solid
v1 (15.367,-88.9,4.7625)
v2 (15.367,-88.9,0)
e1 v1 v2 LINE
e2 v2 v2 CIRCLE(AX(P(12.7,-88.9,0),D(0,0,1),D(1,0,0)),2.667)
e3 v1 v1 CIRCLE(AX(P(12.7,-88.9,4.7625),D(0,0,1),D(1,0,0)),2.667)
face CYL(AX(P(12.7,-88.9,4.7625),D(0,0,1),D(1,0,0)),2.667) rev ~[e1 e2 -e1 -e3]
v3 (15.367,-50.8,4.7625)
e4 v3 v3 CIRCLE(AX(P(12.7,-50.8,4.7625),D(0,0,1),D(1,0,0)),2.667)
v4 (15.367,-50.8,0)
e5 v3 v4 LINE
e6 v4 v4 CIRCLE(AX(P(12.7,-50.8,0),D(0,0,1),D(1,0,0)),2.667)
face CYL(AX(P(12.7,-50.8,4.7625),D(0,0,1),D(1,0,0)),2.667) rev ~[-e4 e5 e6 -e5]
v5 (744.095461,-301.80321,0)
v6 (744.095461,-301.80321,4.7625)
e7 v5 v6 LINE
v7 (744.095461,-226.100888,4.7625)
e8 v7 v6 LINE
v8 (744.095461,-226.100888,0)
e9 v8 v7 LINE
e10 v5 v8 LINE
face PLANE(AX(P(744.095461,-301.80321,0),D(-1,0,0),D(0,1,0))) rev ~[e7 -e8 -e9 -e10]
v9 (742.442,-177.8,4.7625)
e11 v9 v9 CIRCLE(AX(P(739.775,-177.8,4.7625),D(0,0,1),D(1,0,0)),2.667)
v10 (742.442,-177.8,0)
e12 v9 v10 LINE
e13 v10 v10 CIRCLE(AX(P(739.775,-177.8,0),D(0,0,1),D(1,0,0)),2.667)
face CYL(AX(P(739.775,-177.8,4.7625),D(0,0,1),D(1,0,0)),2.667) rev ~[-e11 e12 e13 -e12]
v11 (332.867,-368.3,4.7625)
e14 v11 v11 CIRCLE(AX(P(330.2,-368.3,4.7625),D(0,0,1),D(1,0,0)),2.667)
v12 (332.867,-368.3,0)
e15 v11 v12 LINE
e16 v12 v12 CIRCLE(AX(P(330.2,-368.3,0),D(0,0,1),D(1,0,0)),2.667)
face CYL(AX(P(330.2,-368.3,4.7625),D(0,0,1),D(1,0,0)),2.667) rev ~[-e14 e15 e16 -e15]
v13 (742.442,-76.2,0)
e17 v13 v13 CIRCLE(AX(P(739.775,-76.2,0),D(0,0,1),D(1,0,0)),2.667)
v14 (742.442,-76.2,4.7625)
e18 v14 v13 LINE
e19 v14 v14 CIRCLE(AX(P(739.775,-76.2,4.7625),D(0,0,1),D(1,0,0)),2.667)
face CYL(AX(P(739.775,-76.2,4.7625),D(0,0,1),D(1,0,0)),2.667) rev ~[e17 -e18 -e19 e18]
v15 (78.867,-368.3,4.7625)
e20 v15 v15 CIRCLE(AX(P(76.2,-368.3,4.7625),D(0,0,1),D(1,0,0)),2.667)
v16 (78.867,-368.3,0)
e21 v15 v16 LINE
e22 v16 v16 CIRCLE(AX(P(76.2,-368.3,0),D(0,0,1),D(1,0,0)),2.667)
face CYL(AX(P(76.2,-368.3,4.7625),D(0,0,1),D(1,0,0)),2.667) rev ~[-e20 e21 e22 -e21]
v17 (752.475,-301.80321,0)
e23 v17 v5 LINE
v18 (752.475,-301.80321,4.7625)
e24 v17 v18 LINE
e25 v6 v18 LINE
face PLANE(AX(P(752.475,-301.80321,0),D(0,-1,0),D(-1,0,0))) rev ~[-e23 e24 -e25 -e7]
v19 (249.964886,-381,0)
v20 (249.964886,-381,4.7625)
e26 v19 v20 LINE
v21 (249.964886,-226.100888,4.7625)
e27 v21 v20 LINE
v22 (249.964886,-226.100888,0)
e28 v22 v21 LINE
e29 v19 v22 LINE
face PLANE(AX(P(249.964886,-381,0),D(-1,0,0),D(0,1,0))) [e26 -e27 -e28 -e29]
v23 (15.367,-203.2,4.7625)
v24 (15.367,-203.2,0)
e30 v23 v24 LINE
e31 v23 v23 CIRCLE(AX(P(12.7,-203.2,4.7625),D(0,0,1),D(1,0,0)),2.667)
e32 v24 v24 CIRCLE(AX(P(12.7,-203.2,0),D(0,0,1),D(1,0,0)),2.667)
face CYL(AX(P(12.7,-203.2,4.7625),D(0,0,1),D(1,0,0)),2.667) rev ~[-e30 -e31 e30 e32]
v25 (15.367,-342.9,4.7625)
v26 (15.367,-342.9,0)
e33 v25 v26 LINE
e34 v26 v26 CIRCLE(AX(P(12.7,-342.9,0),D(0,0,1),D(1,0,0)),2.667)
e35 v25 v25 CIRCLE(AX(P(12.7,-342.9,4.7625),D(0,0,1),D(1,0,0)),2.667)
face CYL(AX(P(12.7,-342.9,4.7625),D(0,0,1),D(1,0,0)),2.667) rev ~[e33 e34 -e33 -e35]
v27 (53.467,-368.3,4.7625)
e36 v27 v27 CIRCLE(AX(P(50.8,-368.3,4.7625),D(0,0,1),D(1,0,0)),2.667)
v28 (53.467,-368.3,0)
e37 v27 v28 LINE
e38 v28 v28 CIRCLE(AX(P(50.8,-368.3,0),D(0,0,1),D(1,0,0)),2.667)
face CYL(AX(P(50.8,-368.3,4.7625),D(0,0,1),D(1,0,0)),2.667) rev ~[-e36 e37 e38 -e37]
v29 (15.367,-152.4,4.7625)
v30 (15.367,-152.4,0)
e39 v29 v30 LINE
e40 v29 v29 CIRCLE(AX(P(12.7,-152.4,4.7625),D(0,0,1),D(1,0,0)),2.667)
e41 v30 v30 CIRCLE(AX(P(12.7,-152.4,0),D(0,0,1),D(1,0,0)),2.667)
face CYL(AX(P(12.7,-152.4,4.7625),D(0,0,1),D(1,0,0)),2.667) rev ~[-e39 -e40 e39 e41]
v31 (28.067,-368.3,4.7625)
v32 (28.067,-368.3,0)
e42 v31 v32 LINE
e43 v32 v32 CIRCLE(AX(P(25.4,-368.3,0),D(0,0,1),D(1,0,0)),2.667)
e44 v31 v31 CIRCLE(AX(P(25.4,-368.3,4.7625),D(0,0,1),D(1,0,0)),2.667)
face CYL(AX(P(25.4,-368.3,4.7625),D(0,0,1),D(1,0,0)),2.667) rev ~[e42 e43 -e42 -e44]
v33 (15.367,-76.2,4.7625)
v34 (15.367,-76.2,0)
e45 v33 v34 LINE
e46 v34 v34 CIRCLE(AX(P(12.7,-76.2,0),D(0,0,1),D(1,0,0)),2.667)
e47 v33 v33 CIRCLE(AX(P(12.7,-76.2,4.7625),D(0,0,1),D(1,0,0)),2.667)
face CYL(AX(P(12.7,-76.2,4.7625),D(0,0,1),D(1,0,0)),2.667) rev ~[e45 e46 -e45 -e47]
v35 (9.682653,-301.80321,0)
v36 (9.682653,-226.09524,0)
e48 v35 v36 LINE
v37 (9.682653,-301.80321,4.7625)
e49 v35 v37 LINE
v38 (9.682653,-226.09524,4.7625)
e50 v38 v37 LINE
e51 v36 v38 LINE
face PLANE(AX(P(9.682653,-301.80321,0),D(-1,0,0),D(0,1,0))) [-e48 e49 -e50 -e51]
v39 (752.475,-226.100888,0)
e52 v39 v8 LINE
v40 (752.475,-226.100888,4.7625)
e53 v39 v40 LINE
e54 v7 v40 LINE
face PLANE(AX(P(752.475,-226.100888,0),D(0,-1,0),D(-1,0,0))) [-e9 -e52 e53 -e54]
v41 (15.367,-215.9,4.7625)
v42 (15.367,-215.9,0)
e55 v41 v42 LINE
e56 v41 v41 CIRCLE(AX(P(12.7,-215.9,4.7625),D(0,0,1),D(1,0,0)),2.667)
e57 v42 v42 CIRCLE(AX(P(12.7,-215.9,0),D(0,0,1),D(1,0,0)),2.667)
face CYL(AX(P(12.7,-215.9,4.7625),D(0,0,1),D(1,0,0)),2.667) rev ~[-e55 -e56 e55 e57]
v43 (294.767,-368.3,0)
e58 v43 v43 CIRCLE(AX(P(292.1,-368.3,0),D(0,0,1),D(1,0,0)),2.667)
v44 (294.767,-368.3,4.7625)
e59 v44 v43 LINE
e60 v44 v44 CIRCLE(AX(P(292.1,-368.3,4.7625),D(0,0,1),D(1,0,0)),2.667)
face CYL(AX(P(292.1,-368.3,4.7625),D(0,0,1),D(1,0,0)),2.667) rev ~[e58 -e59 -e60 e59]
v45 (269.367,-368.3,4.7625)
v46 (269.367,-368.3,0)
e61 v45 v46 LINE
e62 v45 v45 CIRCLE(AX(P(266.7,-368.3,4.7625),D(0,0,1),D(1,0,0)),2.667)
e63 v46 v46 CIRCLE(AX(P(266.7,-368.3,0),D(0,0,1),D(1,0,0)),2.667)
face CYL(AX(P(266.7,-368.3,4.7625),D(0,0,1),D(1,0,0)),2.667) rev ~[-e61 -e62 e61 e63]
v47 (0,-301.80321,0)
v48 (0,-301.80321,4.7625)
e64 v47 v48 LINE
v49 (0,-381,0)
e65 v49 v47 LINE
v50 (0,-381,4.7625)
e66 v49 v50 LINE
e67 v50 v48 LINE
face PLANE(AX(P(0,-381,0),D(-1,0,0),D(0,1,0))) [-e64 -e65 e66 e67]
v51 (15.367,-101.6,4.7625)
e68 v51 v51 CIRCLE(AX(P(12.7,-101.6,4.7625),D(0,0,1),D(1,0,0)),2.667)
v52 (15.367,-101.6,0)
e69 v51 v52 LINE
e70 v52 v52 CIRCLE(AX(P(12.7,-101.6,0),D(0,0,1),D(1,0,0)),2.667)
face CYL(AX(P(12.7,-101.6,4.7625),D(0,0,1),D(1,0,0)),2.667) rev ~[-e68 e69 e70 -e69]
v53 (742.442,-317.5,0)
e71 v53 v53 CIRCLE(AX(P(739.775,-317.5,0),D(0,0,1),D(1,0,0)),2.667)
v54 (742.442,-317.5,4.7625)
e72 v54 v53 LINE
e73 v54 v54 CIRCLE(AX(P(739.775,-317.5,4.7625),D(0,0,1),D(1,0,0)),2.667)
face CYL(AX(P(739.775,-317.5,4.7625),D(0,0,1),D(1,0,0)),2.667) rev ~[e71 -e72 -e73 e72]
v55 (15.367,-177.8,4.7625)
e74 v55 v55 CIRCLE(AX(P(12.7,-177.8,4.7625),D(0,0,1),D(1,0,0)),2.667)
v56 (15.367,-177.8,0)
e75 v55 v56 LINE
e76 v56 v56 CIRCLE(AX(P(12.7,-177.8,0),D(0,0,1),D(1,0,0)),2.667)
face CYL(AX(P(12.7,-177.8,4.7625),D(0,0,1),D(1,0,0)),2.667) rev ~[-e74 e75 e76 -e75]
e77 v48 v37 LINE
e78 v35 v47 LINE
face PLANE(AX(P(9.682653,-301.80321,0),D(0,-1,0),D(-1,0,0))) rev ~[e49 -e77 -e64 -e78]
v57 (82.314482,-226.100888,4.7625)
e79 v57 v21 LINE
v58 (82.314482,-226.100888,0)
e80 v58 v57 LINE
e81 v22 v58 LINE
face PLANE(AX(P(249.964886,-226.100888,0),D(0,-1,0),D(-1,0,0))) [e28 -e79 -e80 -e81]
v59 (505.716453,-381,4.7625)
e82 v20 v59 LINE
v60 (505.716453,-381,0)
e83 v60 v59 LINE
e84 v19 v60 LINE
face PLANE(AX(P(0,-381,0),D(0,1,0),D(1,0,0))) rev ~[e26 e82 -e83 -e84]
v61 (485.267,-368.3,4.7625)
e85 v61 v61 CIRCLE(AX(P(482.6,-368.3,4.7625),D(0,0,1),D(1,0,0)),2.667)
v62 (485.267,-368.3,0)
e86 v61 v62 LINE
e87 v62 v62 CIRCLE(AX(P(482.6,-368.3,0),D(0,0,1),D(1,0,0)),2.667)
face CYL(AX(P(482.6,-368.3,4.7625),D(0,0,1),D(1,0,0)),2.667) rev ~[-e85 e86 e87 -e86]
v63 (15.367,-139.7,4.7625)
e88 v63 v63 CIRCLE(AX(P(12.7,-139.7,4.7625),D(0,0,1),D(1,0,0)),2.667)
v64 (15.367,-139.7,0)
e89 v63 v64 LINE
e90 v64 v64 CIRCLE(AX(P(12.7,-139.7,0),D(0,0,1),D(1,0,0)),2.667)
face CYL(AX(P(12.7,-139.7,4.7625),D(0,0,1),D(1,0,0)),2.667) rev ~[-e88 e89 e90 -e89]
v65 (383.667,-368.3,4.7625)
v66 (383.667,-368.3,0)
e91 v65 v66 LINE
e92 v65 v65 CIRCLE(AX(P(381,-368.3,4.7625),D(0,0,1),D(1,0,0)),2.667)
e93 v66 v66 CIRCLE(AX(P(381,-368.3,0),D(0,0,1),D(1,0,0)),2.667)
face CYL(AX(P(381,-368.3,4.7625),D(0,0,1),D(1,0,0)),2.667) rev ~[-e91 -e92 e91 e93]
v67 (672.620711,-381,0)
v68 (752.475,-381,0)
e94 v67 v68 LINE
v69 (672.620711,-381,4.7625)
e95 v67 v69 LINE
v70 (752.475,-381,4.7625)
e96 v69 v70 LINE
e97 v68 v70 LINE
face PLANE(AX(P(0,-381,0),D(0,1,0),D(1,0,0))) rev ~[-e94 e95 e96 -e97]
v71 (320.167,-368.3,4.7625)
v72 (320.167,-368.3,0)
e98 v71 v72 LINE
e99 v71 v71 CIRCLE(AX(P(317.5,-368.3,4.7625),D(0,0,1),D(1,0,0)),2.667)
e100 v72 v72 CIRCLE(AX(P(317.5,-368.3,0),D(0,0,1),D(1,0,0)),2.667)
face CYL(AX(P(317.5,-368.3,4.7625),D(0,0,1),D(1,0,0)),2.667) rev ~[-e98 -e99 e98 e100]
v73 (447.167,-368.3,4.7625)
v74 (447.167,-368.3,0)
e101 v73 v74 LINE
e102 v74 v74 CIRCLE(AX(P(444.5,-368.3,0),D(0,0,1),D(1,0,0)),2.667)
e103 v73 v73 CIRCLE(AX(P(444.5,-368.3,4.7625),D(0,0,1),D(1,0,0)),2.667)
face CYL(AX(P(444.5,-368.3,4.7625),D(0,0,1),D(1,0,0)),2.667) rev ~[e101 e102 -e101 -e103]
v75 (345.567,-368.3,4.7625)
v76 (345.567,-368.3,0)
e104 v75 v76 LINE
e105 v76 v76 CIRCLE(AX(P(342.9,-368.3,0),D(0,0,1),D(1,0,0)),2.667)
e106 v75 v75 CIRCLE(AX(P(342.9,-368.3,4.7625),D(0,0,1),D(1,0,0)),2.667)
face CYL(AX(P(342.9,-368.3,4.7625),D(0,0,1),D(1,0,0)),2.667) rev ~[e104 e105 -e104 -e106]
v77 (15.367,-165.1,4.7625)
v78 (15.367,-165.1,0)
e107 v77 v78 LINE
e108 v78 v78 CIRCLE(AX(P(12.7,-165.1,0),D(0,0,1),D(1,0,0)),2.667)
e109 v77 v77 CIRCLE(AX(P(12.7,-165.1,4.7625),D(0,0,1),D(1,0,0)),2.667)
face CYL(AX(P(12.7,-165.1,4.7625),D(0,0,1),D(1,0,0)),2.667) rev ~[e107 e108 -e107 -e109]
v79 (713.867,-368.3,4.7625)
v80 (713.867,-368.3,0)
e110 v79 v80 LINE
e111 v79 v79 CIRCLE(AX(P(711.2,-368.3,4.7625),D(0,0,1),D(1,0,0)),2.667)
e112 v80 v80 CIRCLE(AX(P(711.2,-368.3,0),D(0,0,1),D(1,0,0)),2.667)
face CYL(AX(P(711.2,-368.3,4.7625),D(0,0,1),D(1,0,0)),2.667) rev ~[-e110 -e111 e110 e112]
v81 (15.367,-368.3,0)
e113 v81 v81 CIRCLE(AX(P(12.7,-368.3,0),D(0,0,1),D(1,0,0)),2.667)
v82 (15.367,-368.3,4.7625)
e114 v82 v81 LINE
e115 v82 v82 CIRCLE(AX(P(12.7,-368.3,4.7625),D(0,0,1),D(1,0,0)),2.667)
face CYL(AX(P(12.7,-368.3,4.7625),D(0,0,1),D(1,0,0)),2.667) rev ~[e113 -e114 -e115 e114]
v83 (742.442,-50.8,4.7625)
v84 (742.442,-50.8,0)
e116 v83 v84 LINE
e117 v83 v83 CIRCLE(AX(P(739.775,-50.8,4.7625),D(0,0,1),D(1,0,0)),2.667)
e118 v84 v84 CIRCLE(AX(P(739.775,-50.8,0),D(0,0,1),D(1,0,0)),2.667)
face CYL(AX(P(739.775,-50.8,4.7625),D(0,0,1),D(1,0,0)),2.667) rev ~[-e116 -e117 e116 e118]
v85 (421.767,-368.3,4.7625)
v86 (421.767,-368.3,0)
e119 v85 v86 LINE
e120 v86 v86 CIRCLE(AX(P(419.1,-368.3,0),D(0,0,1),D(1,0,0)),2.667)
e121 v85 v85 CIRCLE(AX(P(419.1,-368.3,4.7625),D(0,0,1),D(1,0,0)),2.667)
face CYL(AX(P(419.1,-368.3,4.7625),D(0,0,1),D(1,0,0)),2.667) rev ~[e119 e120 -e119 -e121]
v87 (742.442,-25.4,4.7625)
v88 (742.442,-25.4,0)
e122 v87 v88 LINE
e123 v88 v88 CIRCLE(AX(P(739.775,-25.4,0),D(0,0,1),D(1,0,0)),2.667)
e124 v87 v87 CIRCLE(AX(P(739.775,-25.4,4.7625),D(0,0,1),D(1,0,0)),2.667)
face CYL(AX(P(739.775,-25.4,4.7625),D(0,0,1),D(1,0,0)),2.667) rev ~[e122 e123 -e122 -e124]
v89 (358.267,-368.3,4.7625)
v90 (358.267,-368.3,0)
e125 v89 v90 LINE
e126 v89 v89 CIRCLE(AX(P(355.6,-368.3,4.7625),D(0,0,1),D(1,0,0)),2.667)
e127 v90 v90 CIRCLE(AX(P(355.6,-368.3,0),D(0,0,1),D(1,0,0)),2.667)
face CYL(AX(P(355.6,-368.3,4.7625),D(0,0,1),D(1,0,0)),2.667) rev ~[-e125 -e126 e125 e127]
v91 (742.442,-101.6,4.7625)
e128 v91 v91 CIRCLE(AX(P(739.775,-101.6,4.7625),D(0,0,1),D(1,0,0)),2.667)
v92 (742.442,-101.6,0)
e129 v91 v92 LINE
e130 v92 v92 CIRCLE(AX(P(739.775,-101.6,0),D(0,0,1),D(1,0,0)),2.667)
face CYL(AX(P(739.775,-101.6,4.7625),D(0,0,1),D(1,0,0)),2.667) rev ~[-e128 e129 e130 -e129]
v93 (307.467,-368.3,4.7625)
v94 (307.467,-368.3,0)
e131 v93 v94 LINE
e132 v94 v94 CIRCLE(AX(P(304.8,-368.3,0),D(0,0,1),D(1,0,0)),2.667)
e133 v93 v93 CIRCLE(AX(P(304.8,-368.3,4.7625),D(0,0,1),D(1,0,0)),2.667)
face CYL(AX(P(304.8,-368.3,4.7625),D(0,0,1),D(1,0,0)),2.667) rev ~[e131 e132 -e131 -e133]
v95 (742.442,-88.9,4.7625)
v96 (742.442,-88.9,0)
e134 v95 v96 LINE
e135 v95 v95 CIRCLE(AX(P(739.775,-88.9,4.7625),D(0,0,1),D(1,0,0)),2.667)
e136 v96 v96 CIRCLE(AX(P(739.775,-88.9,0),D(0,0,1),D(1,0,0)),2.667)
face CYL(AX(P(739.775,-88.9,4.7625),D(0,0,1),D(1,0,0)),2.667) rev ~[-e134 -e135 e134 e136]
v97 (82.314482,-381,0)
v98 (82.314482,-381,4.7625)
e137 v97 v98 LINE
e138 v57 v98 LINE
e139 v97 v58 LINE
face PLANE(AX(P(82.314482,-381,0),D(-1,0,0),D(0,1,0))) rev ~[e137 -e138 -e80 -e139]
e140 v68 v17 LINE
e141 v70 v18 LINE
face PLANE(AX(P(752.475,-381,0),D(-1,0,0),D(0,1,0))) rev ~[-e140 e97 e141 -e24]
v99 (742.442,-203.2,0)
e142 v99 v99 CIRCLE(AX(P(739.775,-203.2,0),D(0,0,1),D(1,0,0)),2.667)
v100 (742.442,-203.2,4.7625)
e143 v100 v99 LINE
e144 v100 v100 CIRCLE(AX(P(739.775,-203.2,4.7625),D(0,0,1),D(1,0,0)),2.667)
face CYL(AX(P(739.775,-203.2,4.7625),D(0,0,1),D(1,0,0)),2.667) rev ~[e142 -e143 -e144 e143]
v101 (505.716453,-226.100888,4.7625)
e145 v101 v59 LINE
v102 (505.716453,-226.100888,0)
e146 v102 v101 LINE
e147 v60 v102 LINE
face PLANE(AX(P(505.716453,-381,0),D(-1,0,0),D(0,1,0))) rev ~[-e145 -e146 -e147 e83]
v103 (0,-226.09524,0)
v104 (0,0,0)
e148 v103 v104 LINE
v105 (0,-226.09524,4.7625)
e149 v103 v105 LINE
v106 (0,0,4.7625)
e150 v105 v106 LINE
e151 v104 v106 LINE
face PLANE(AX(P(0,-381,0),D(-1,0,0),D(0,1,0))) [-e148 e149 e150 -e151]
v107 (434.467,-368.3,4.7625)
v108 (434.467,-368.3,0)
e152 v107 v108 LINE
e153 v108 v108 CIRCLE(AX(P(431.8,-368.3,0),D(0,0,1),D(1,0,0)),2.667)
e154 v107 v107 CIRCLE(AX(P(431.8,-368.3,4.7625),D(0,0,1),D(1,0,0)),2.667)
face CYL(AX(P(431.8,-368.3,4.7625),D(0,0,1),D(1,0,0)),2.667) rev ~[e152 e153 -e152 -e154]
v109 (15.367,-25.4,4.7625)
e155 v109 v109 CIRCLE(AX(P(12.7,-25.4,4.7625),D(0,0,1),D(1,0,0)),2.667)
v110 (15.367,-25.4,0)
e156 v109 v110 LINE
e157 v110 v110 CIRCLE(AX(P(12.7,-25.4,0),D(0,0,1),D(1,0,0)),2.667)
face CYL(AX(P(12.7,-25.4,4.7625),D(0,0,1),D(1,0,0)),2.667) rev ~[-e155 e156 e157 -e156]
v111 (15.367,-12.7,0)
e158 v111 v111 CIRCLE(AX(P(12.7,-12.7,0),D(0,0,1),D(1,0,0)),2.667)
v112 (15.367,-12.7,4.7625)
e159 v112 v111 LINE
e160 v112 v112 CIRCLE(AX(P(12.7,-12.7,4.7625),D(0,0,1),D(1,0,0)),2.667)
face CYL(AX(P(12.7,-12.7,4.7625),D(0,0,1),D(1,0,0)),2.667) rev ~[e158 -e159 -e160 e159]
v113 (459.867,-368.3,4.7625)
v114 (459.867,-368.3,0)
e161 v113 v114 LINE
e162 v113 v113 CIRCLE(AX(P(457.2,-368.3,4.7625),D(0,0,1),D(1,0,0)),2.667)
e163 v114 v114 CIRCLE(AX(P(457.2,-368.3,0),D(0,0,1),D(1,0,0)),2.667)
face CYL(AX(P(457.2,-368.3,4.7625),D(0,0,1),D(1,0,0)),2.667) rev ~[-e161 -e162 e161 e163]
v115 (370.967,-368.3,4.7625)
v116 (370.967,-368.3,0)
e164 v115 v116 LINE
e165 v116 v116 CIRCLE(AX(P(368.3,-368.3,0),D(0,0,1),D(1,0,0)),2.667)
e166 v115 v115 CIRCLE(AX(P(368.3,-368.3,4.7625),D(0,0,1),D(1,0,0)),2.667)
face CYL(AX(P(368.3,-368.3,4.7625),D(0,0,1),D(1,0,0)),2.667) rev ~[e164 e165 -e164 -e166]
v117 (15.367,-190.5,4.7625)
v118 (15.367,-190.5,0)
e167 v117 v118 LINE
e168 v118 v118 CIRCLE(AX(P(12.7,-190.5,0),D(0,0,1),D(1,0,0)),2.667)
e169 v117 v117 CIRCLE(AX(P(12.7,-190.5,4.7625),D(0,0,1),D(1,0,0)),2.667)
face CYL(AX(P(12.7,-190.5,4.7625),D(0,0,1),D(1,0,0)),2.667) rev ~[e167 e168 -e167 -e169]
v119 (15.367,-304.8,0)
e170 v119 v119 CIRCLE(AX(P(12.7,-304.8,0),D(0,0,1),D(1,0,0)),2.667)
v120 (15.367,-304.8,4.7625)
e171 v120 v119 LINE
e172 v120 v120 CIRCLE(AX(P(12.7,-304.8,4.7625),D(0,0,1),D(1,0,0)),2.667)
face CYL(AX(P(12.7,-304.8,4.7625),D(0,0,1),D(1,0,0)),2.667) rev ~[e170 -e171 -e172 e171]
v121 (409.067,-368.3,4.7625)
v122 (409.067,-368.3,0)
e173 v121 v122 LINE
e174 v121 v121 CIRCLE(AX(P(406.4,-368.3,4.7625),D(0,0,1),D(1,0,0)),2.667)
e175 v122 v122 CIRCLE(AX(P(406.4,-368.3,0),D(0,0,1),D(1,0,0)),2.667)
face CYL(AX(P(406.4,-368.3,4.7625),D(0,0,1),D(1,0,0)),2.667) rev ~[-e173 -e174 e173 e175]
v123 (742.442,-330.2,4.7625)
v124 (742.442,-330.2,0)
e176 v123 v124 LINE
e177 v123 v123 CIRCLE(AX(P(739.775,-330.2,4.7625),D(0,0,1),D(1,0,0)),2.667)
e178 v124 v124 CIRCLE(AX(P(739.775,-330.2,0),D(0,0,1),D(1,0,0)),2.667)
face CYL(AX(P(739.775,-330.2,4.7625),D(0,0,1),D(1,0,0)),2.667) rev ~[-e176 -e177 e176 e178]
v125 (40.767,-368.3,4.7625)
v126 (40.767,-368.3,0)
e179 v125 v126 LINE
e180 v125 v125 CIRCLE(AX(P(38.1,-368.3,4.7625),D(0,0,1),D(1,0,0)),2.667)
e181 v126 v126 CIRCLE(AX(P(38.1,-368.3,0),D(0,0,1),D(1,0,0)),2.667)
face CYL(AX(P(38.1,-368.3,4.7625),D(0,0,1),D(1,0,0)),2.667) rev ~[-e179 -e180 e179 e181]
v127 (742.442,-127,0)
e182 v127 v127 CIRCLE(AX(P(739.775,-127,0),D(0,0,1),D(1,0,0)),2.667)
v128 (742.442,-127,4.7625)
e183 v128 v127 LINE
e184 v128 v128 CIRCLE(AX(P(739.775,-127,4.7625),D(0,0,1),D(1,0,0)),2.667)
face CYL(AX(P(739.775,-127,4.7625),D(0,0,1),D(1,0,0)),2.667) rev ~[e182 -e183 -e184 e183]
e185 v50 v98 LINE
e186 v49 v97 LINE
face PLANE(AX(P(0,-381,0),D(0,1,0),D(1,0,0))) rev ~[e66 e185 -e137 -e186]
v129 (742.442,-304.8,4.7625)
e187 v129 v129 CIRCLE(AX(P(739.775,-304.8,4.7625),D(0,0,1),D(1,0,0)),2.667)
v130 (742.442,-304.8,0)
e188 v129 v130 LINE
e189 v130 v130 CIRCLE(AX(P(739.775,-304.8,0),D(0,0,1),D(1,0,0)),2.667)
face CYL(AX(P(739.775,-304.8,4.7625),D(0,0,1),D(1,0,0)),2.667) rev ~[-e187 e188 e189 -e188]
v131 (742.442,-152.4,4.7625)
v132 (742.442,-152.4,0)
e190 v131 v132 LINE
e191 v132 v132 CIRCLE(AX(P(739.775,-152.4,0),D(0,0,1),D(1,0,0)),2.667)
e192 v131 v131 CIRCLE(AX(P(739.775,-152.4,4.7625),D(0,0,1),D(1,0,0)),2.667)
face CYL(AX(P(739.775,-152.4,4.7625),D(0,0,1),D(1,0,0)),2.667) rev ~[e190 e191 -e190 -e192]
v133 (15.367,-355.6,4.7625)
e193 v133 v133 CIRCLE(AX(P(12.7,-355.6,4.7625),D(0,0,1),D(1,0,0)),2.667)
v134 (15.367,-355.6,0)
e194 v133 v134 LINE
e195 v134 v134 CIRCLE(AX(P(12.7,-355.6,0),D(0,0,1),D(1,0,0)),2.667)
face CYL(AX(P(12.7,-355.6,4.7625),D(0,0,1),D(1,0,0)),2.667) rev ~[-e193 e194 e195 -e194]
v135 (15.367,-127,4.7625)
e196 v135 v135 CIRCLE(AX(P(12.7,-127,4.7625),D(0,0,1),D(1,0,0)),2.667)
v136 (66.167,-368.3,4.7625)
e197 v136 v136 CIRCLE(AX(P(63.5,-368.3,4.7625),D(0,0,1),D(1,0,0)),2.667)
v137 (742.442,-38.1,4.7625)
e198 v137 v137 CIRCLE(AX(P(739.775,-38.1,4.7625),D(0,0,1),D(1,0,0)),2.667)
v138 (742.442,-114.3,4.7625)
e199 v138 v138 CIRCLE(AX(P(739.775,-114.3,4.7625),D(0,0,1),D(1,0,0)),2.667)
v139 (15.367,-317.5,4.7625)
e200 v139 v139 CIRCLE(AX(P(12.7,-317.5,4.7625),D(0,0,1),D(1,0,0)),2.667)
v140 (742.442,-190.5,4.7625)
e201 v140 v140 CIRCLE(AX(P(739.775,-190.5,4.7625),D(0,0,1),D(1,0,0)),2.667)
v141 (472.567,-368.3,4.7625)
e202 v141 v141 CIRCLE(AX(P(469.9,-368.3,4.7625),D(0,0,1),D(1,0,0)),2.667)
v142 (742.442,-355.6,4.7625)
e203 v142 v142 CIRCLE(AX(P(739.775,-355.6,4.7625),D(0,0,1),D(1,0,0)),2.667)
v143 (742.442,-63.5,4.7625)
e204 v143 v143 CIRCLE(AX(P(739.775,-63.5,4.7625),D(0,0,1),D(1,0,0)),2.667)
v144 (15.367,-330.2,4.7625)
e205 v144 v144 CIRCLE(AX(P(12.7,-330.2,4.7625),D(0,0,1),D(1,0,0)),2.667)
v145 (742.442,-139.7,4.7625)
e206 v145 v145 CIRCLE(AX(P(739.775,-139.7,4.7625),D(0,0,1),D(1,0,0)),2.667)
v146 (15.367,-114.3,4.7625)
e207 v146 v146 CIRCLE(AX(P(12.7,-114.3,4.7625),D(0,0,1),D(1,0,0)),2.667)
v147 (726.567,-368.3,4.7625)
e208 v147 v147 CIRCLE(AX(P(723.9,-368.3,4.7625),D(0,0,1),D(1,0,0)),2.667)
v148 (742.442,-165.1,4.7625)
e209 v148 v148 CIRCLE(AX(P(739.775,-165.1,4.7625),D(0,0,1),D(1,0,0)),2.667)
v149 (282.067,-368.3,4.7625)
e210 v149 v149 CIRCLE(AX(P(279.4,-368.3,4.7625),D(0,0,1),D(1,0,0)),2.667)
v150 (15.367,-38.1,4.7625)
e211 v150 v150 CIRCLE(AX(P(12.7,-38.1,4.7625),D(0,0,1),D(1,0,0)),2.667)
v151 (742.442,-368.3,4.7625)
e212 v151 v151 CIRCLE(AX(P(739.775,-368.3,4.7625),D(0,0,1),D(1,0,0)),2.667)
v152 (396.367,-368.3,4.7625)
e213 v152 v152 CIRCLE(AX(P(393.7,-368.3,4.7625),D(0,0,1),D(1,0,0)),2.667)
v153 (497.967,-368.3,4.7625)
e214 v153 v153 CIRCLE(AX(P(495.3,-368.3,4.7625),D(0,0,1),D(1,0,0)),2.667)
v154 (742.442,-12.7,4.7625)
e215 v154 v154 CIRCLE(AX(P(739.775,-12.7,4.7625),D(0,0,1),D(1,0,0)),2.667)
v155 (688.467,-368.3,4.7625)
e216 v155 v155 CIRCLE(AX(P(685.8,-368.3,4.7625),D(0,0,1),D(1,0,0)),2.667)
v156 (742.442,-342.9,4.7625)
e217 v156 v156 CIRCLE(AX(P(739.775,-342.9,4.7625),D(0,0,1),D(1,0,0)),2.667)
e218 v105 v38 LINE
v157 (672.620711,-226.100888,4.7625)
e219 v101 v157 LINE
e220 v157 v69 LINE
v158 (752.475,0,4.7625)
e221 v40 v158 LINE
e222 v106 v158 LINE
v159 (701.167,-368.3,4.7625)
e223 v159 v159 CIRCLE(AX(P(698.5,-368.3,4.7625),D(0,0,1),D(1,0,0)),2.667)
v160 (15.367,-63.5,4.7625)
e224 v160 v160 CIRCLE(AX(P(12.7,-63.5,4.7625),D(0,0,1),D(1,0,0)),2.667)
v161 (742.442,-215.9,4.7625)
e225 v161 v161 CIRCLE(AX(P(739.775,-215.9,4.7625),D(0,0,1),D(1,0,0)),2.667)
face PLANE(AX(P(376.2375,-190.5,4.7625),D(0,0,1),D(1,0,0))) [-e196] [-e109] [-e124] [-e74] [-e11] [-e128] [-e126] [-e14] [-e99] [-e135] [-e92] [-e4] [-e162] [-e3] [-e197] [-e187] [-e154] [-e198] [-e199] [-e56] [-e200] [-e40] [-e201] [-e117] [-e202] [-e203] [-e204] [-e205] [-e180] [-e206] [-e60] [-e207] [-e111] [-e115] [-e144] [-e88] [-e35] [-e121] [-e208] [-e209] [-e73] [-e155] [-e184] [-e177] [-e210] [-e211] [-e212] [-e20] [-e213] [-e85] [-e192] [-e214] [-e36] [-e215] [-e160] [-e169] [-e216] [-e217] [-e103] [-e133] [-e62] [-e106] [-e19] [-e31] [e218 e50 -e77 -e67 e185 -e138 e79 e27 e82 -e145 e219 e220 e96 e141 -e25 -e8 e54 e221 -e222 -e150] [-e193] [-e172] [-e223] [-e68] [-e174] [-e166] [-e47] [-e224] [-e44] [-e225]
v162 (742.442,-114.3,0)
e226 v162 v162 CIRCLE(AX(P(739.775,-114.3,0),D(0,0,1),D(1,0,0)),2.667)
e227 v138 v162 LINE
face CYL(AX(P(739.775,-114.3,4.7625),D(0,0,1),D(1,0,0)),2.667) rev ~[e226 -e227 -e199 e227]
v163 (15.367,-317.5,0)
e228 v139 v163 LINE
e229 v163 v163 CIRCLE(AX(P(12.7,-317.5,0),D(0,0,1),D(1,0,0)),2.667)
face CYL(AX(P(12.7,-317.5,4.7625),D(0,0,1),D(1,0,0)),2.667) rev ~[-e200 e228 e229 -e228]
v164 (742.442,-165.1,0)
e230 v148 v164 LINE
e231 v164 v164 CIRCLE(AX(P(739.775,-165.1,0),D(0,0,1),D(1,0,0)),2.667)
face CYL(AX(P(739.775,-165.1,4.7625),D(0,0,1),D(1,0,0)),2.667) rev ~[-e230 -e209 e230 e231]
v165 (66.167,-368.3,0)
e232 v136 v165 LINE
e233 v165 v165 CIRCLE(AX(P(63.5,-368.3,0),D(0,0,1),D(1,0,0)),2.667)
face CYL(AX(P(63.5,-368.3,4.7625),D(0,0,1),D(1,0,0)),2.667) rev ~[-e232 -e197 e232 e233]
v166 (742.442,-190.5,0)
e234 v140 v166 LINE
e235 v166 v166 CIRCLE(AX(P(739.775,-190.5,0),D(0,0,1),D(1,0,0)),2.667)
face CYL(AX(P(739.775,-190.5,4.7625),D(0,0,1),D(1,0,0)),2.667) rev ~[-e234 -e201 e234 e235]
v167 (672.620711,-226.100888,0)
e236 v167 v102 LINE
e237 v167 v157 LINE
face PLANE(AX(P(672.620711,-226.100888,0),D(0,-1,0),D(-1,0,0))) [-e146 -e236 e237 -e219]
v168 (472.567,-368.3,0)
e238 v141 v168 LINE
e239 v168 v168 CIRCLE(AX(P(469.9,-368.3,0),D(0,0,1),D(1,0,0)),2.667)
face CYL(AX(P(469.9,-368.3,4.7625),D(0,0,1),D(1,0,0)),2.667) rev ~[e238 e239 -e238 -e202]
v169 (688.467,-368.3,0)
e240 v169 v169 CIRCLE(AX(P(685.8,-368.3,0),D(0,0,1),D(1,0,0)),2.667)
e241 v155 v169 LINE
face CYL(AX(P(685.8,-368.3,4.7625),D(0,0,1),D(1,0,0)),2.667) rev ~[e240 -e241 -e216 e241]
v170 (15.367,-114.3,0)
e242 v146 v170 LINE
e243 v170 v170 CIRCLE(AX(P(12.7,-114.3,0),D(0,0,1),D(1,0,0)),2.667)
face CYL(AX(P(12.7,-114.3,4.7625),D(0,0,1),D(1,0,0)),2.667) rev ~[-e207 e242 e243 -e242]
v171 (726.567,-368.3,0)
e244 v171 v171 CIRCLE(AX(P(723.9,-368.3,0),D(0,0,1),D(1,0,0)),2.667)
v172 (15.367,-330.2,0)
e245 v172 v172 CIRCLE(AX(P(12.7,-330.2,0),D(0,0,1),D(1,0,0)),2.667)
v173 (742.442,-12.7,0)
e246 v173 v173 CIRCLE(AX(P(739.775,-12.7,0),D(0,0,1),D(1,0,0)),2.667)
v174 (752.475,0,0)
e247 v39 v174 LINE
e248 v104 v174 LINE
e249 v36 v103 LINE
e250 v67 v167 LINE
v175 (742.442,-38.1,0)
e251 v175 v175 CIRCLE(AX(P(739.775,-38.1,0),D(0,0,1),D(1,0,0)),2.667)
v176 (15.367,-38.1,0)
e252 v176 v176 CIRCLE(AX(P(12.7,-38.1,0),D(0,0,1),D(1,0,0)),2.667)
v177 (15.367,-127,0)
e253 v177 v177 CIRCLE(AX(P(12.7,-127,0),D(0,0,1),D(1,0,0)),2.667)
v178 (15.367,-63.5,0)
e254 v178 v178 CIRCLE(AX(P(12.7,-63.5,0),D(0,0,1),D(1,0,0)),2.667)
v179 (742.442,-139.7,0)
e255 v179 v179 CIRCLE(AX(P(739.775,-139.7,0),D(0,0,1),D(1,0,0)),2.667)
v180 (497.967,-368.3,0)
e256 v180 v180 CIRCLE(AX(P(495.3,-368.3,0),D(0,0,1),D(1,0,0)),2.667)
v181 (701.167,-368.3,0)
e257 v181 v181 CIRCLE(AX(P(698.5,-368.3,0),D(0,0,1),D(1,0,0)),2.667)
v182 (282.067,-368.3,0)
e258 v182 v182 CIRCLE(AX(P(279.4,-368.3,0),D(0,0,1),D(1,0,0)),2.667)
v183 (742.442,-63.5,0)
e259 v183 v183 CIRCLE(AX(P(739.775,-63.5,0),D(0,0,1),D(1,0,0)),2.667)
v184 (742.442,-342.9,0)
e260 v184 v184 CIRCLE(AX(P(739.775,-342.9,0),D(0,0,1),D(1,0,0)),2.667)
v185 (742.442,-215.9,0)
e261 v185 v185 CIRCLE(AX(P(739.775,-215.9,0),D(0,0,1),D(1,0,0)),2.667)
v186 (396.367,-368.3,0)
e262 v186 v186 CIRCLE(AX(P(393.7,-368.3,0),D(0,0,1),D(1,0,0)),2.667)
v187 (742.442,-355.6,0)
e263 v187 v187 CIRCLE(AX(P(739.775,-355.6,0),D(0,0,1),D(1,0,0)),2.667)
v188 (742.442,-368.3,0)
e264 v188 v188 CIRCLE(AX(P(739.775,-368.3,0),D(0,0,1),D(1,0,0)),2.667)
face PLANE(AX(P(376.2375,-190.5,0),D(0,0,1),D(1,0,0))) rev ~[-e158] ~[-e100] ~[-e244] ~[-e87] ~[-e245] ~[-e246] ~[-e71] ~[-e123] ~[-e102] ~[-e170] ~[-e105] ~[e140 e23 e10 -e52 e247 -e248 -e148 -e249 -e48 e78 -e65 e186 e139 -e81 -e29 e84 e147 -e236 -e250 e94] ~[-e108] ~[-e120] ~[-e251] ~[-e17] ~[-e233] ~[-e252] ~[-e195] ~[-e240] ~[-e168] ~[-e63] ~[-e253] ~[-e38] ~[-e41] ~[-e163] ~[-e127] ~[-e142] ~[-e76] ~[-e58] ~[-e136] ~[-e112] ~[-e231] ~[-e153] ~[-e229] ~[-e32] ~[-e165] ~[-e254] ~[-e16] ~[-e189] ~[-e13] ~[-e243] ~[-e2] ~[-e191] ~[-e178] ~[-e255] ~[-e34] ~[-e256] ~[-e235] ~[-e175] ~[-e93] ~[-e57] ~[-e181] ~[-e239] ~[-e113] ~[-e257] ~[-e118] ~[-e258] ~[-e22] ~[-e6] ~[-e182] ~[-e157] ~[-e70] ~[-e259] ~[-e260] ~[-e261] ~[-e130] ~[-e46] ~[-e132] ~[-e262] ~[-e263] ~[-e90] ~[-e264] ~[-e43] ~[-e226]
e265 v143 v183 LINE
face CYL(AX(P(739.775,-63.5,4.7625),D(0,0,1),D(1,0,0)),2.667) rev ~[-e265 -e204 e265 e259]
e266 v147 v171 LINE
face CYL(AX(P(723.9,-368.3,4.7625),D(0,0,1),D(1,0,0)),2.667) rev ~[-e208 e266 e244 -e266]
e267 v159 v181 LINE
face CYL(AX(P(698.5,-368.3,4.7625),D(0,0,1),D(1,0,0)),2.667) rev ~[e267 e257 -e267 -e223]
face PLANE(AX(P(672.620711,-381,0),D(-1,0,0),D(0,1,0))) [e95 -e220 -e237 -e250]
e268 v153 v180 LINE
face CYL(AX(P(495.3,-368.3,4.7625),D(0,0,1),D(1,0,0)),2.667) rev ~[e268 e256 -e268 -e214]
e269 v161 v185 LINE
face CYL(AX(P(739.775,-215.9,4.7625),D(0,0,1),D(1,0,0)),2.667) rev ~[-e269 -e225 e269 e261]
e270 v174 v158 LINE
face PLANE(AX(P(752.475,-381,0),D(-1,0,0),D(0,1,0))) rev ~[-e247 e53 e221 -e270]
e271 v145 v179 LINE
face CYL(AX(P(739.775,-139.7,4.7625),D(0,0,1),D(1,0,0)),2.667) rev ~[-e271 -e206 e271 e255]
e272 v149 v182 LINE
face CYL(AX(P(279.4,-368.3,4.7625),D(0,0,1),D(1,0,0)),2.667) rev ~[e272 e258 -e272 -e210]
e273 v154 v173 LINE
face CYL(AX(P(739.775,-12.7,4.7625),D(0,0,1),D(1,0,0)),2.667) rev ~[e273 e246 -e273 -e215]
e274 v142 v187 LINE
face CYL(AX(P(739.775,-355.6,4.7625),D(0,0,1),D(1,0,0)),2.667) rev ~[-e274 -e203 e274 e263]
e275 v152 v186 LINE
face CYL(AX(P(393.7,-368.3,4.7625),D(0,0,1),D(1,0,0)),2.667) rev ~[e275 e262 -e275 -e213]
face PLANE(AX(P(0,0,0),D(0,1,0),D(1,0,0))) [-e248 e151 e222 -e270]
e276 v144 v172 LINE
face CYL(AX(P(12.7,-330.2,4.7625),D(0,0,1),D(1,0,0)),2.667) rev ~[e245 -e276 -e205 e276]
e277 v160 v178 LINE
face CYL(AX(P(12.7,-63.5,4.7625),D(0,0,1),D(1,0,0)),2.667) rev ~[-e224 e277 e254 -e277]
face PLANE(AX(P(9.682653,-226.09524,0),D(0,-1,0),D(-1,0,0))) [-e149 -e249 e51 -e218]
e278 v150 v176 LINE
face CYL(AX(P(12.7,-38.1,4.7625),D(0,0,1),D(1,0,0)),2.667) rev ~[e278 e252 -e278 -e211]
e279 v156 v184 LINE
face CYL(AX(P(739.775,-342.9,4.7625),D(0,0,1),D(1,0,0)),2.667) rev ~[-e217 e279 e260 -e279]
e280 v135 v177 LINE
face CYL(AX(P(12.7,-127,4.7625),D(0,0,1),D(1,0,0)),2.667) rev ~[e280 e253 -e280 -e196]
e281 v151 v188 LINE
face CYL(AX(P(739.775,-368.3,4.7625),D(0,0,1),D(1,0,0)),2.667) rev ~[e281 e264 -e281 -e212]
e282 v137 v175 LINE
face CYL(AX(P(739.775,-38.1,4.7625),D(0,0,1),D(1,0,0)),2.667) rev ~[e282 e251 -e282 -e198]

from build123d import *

# Parameters (mm, degrees)
SKETCH1_W           = 752.475
SKETCH1_H           = 381
BOSS_EXTRUDE1_DEPTH = 4.7625
SKETCH2_W           = 8.379539034
SKETCH2_H           = 75.702321135
CUT_EXTRUDE1_DEPTH  = 10.668
SKETCH3_W           = 9.682653374
SKETCH3_H           = 75.707969864
CUT_EXTRUDE2_DEPTH  = 10.668
SKETCH4_W           = 166.904258103
SKETCH4_H           = 154.899111528
CUT_EXTRUDE3_DEPTH  = 10.668
SKETCH5_W           = 167.650404688
SKETCH5_H           = 154.899111528
CUT_EXTRUDE5_DEPTH  = 10.668
SKETCH6_R           = 2.667
CUT_EXTRUDE6_DEPTH  = 844.446682981


with BuildPart() as part:
    # Sketch1 → Boss-Extrude1 (new body)
    with BuildSketch(Plane.XY):
        with Locations((376.2375, -190.5)):
            Rectangle(SKETCH1_W, SKETCH1_H)
    extrude(amount=BOSS_EXTRUDE1_DEPTH)

    # Sketch2 → Cut-Extrude1 (cut)
    with BuildSketch(Plane(origin=(0, 0, 0), x_dir=(-1, 0, 0), z_dir=(0, 0, -1))):
        with Locations((-748.285230483, -263.95204904)):
            Rectangle(SKETCH2_W, SKETCH2_H)
    extrude(amount=-CUT_EXTRUDE1_DEPTH, mode=Mode.SUBTRACT)

    # Sketch3 → Cut-Extrude2 (cut)
    with BuildSketch(Plane(origin=(0, 0, 0), x_dir=(-1, 0, 0), z_dir=(0, 0, -1))):
        with Locations((-4.841326687, -263.949224675)):
            Rectangle(SKETCH3_W, SKETCH3_H)
    extrude(amount=-CUT_EXTRUDE2_DEPTH, mode=Mode.SUBTRACT)

    # Sketch4 → Cut-Extrude3 (cut)
    with BuildSketch(Plane(origin=(0, 0, 0), x_dir=(-1, 0, 0), z_dir=(0, 0, -1))):
        with Locations((-589.168581759, -303.550444236)):
            Rectangle(SKETCH4_W, SKETCH4_H)
    extrude(amount=-CUT_EXTRUDE3_DEPTH, mode=Mode.SUBTRACT)

    # Sketch5 → Cut-Extrude5 (cut)
    with BuildSketch(Plane(origin=(0, 0, 0), x_dir=(-1, 0, 0), z_dir=(0, 0, -1))):
        with Locations((-166.139683848, -303.550444236)):
            Rectangle(SKETCH5_W, SKETCH5_H)
    extrude(amount=-CUT_EXTRUDE5_DEPTH, mode=Mode.SUBTRACT)

    # Sketch6 → Cut-Extrude6 (cut, through all)
    with BuildSketch(Plane.XY.offset(4.7625)):
        with Locations((12.7, -12.7)):
            Circle(SKETCH6_R)
        with Locations((12.7, -25.4)):
            Circle(SKETCH6_R)
        with Locations((12.7, -38.1)):
            Circle(SKETCH6_R)
        with Locations((12.7, -50.8)):
            Circle(SKETCH6_R)
        with Locations((12.7, -63.5)):
            Circle(SKETCH6_R)
        with Locations((12.7, -76.2)):
            Circle(SKETCH6_R)
        with Locations((12.7, -88.9)):
            Circle(SKETCH6_R)
        with Locations((12.7, -101.6)):
            Circle(SKETCH6_R)
        with Locations((12.7, -114.3)):
            Circle(SKETCH6_R)
        with Locations((12.7, -127)):
            Circle(SKETCH6_R)
        with Locations((12.7, -139.7)):
            Circle(SKETCH6_R)
        with Locations((12.7, -152.4)):
            Circle(SKETCH6_R)
        with Locations((12.7, -165.1)):
            Circle(SKETCH6_R)
        with Locations((12.7, -177.8)):
            Circle(SKETCH6_R)
        with Locations((12.7, -190.5)):
            Circle(SKETCH6_R)
        with Locations((12.7, -203.2)):
            Circle(SKETCH6_R)
        with Locations((12.7, -215.9)):
            Circle(SKETCH6_R)
        with Locations((12.7, -304.8)):
            Circle(SKETCH6_R)
        with Locations((12.7, -317.5)):
            Circle(SKETCH6_R)
        with Locations((12.7, -330.2)):
            Circle(SKETCH6_R)
        with Locations((12.7, -342.9)):
            Circle(SKETCH6_R)
        with Locations((12.7, -355.6)):
            Circle(SKETCH6_R)
        with Locations((12.7, -368.3)):
            Circle(SKETCH6_R)
        with Locations((739.775, -368.3)):
            Circle(SKETCH6_R)
        with Locations((739.775, -355.6)):
            Circle(SKETCH6_R)
        with Locations((739.775, -342.9)):
            Circle(SKETCH6_R)
        with Locations((739.775, -330.2)):
            Circle(SKETCH6_R)
        with Locations((739.775, -304.8)):
            Circle(SKETCH6_R)
        with Locations((739.775, -317.5)):
            Circle(SKETCH6_R)
        with Locations((739.775, -215.9)):
            Circle(SKETCH6_R)
        with Locations((739.775, -203.2)):
            Circle(SKETCH6_R)
        with Locations((739.775, -190.5)):
            Circle(SKETCH6_R)
        with Locations((739.775, -177.8)):
            Circle(SKETCH6_R)
        with Locations((739.775, -165.1)):
            Circle(SKETCH6_R)
        with Locations((739.775, -152.4)):
            Circle(SKETCH6_R)
        with Locations((739.775, -139.7)):
            Circle(SKETCH6_R)
        with Locations((739.775, -127)):
            Circle(SKETCH6_R)
        with Locations((739.775, -114.3)):
            Circle(SKETCH6_R)
        with Locations((739.775, -101.6)):
            Circle(SKETCH6_R)
        with Locations((739.775, -88.9)):
            Circle(SKETCH6_R)
        with Locations((739.775, -76.2)):
            Circle(SKETCH6_R)
        with Locations((739.775, -63.5)):
            Circle(SKETCH6_R)
        with Locations((739.775, -50.8)):
            Circle(SKETCH6_R)
        with Locations((739.775, -38.1)):
            Circle(SKETCH6_R)
        with Locations((739.775, -25.4)):
            Circle(SKETCH6_R)
        with Locations((739.775, -12.7)):
            Circle(SKETCH6_R)
        with Locations((25.4, -368.3)):
            Circle(SKETCH6_R)
        with Locations((38.1, -368.3)):
            Circle(SKETCH6_R)
        with Locations((50.8, -368.3)):
            Circle(SKETCH6_R)
        with Locations((63.5, -368.3)):
            Circle(SKETCH6_R)
        with Locations((76.2, -368.3)):
            Circle(SKETCH6_R)
        with Locations((88.9, -368.3)):
            Circle(SKETCH6_R)
        with Locations((101.6, -368.3)):
            Circle(SKETCH6_R)
        with Locations((114.3, -368.3)):
            Circle(SKETCH6_R)
        with Locations((127, -368.3)):
            Circle(SKETCH6_R)
        with Locations((139.7, -368.3)):
            Circle(SKETCH6_R)
        with Locations((152.4, -368.3)):
            Circle(SKETCH6_R)
        with Locations((165.1, -368.3)):
            Circle(SKETCH6_R)
        with Locations((177.8, -368.3)):
            Circle(SKETCH6_R)
        with Locations((190.5, -368.3)):
            Circle(SKETCH6_R)
        with Locations((203.2, -368.3)):
            Circle(SKETCH6_R)
        with Locations((215.9, -368.3)):
            Circle(SKETCH6_R)
        with Locations((228.6, -368.3)):
            Circle(SKETCH6_R)
        with Locations((241.3, -368.3)):
            Circle(SKETCH6_R)
        with Locations((266.7, -368.3)):
            Circle(SKETCH6_R)
        with Locations((279.4, -368.3)):
            Circle(SKETCH6_R)
        with Locations((292.1, -368.3)):
            Circle(SKETCH6_R)
        with Locations((304.8, -368.3)):
            Circle(SKETCH6_R)
        with Locations((317.5, -368.3)):
            Circle(SKETCH6_R)
        with Locations((330.2, -368.3)):
            Circle(SKETCH6_R)
        with Locations((342.9, -368.3)):
            Circle(SKETCH6_R)
        with Locations((355.6, -368.3)):
            Circle(SKETCH6_R)
        with Locations((368.3, -368.3)):
            Circle(SKETCH6_R)
        with Locations((381, -368.3)):
            Circle(SKETCH6_R)
        with Locations((393.7, -368.3)):
            Circle(SKETCH6_R)
        with Locations((406.4, -368.3)):
            Circle(SKETCH6_R)
        with Locations((419.1, -368.3)):
            Circle(SKETCH6_R)
        with Locations((431.8, -368.3)):
            Circle(SKETCH6_R)
        with Locations((444.5, -368.3)):
            Circle(SKETCH6_R)
        with Locations((457.2, -368.3)):
            Circle(SKETCH6_R)
        with Locations((469.9, -368.3)):
            Circle(SKETCH6_R)
        with Locations((482.6, -368.3)):
            Circle(SKETCH6_R)
        with Locations((495.3, -368.3)):
            Circle(SKETCH6_R)
        with Locations((520.7, -368.3)):
            Circle(SKETCH6_R)
        with Locations((533.4, -368.3)):
            Circle(SKETCH6_R)
        with Locations((546.1, -368.3)):
            Circle(SKETCH6_R)
        with Locations((558.8, -368.3)):
            Circle(SKETCH6_R)
        with Locations((571.5, -368.3)):
            Circle(SKETCH6_R)
        with Locations((584.2, -368.3)):
            Circle(SKETCH6_R)
        with Locations((596.9, -368.3)):
            Circle(SKETCH6_R)
        with Locations((609.6, -368.3)):
            Circle(SKETCH6_R)
        with Locations((622.3, -368.3)):
            Circle(SKETCH6_R)
        with Locations((635, -368.3)):
            Circle(SKETCH6_R)
        with Locations((647.7, -368.3)):
            Circle(SKETCH6_R)
        with Locations((660.4, -368.3)):
            Circle(SKETCH6_R)
        with Locations((685.8, -368.3)):
            Circle(SKETCH6_R)
        with Locations((698.5, -368.3)):
            Circle(SKETCH6_R)
        with Locations((711.2, -368.3)):
            Circle(SKETCH6_R)
        with Locations((723.9, -368.3)):
            Circle(SKETCH6_R)
    extrude(amount=-CUT_EXTRUDE6_DEPTH, mode=Mode.SUBTRACT)


solid = part.part
